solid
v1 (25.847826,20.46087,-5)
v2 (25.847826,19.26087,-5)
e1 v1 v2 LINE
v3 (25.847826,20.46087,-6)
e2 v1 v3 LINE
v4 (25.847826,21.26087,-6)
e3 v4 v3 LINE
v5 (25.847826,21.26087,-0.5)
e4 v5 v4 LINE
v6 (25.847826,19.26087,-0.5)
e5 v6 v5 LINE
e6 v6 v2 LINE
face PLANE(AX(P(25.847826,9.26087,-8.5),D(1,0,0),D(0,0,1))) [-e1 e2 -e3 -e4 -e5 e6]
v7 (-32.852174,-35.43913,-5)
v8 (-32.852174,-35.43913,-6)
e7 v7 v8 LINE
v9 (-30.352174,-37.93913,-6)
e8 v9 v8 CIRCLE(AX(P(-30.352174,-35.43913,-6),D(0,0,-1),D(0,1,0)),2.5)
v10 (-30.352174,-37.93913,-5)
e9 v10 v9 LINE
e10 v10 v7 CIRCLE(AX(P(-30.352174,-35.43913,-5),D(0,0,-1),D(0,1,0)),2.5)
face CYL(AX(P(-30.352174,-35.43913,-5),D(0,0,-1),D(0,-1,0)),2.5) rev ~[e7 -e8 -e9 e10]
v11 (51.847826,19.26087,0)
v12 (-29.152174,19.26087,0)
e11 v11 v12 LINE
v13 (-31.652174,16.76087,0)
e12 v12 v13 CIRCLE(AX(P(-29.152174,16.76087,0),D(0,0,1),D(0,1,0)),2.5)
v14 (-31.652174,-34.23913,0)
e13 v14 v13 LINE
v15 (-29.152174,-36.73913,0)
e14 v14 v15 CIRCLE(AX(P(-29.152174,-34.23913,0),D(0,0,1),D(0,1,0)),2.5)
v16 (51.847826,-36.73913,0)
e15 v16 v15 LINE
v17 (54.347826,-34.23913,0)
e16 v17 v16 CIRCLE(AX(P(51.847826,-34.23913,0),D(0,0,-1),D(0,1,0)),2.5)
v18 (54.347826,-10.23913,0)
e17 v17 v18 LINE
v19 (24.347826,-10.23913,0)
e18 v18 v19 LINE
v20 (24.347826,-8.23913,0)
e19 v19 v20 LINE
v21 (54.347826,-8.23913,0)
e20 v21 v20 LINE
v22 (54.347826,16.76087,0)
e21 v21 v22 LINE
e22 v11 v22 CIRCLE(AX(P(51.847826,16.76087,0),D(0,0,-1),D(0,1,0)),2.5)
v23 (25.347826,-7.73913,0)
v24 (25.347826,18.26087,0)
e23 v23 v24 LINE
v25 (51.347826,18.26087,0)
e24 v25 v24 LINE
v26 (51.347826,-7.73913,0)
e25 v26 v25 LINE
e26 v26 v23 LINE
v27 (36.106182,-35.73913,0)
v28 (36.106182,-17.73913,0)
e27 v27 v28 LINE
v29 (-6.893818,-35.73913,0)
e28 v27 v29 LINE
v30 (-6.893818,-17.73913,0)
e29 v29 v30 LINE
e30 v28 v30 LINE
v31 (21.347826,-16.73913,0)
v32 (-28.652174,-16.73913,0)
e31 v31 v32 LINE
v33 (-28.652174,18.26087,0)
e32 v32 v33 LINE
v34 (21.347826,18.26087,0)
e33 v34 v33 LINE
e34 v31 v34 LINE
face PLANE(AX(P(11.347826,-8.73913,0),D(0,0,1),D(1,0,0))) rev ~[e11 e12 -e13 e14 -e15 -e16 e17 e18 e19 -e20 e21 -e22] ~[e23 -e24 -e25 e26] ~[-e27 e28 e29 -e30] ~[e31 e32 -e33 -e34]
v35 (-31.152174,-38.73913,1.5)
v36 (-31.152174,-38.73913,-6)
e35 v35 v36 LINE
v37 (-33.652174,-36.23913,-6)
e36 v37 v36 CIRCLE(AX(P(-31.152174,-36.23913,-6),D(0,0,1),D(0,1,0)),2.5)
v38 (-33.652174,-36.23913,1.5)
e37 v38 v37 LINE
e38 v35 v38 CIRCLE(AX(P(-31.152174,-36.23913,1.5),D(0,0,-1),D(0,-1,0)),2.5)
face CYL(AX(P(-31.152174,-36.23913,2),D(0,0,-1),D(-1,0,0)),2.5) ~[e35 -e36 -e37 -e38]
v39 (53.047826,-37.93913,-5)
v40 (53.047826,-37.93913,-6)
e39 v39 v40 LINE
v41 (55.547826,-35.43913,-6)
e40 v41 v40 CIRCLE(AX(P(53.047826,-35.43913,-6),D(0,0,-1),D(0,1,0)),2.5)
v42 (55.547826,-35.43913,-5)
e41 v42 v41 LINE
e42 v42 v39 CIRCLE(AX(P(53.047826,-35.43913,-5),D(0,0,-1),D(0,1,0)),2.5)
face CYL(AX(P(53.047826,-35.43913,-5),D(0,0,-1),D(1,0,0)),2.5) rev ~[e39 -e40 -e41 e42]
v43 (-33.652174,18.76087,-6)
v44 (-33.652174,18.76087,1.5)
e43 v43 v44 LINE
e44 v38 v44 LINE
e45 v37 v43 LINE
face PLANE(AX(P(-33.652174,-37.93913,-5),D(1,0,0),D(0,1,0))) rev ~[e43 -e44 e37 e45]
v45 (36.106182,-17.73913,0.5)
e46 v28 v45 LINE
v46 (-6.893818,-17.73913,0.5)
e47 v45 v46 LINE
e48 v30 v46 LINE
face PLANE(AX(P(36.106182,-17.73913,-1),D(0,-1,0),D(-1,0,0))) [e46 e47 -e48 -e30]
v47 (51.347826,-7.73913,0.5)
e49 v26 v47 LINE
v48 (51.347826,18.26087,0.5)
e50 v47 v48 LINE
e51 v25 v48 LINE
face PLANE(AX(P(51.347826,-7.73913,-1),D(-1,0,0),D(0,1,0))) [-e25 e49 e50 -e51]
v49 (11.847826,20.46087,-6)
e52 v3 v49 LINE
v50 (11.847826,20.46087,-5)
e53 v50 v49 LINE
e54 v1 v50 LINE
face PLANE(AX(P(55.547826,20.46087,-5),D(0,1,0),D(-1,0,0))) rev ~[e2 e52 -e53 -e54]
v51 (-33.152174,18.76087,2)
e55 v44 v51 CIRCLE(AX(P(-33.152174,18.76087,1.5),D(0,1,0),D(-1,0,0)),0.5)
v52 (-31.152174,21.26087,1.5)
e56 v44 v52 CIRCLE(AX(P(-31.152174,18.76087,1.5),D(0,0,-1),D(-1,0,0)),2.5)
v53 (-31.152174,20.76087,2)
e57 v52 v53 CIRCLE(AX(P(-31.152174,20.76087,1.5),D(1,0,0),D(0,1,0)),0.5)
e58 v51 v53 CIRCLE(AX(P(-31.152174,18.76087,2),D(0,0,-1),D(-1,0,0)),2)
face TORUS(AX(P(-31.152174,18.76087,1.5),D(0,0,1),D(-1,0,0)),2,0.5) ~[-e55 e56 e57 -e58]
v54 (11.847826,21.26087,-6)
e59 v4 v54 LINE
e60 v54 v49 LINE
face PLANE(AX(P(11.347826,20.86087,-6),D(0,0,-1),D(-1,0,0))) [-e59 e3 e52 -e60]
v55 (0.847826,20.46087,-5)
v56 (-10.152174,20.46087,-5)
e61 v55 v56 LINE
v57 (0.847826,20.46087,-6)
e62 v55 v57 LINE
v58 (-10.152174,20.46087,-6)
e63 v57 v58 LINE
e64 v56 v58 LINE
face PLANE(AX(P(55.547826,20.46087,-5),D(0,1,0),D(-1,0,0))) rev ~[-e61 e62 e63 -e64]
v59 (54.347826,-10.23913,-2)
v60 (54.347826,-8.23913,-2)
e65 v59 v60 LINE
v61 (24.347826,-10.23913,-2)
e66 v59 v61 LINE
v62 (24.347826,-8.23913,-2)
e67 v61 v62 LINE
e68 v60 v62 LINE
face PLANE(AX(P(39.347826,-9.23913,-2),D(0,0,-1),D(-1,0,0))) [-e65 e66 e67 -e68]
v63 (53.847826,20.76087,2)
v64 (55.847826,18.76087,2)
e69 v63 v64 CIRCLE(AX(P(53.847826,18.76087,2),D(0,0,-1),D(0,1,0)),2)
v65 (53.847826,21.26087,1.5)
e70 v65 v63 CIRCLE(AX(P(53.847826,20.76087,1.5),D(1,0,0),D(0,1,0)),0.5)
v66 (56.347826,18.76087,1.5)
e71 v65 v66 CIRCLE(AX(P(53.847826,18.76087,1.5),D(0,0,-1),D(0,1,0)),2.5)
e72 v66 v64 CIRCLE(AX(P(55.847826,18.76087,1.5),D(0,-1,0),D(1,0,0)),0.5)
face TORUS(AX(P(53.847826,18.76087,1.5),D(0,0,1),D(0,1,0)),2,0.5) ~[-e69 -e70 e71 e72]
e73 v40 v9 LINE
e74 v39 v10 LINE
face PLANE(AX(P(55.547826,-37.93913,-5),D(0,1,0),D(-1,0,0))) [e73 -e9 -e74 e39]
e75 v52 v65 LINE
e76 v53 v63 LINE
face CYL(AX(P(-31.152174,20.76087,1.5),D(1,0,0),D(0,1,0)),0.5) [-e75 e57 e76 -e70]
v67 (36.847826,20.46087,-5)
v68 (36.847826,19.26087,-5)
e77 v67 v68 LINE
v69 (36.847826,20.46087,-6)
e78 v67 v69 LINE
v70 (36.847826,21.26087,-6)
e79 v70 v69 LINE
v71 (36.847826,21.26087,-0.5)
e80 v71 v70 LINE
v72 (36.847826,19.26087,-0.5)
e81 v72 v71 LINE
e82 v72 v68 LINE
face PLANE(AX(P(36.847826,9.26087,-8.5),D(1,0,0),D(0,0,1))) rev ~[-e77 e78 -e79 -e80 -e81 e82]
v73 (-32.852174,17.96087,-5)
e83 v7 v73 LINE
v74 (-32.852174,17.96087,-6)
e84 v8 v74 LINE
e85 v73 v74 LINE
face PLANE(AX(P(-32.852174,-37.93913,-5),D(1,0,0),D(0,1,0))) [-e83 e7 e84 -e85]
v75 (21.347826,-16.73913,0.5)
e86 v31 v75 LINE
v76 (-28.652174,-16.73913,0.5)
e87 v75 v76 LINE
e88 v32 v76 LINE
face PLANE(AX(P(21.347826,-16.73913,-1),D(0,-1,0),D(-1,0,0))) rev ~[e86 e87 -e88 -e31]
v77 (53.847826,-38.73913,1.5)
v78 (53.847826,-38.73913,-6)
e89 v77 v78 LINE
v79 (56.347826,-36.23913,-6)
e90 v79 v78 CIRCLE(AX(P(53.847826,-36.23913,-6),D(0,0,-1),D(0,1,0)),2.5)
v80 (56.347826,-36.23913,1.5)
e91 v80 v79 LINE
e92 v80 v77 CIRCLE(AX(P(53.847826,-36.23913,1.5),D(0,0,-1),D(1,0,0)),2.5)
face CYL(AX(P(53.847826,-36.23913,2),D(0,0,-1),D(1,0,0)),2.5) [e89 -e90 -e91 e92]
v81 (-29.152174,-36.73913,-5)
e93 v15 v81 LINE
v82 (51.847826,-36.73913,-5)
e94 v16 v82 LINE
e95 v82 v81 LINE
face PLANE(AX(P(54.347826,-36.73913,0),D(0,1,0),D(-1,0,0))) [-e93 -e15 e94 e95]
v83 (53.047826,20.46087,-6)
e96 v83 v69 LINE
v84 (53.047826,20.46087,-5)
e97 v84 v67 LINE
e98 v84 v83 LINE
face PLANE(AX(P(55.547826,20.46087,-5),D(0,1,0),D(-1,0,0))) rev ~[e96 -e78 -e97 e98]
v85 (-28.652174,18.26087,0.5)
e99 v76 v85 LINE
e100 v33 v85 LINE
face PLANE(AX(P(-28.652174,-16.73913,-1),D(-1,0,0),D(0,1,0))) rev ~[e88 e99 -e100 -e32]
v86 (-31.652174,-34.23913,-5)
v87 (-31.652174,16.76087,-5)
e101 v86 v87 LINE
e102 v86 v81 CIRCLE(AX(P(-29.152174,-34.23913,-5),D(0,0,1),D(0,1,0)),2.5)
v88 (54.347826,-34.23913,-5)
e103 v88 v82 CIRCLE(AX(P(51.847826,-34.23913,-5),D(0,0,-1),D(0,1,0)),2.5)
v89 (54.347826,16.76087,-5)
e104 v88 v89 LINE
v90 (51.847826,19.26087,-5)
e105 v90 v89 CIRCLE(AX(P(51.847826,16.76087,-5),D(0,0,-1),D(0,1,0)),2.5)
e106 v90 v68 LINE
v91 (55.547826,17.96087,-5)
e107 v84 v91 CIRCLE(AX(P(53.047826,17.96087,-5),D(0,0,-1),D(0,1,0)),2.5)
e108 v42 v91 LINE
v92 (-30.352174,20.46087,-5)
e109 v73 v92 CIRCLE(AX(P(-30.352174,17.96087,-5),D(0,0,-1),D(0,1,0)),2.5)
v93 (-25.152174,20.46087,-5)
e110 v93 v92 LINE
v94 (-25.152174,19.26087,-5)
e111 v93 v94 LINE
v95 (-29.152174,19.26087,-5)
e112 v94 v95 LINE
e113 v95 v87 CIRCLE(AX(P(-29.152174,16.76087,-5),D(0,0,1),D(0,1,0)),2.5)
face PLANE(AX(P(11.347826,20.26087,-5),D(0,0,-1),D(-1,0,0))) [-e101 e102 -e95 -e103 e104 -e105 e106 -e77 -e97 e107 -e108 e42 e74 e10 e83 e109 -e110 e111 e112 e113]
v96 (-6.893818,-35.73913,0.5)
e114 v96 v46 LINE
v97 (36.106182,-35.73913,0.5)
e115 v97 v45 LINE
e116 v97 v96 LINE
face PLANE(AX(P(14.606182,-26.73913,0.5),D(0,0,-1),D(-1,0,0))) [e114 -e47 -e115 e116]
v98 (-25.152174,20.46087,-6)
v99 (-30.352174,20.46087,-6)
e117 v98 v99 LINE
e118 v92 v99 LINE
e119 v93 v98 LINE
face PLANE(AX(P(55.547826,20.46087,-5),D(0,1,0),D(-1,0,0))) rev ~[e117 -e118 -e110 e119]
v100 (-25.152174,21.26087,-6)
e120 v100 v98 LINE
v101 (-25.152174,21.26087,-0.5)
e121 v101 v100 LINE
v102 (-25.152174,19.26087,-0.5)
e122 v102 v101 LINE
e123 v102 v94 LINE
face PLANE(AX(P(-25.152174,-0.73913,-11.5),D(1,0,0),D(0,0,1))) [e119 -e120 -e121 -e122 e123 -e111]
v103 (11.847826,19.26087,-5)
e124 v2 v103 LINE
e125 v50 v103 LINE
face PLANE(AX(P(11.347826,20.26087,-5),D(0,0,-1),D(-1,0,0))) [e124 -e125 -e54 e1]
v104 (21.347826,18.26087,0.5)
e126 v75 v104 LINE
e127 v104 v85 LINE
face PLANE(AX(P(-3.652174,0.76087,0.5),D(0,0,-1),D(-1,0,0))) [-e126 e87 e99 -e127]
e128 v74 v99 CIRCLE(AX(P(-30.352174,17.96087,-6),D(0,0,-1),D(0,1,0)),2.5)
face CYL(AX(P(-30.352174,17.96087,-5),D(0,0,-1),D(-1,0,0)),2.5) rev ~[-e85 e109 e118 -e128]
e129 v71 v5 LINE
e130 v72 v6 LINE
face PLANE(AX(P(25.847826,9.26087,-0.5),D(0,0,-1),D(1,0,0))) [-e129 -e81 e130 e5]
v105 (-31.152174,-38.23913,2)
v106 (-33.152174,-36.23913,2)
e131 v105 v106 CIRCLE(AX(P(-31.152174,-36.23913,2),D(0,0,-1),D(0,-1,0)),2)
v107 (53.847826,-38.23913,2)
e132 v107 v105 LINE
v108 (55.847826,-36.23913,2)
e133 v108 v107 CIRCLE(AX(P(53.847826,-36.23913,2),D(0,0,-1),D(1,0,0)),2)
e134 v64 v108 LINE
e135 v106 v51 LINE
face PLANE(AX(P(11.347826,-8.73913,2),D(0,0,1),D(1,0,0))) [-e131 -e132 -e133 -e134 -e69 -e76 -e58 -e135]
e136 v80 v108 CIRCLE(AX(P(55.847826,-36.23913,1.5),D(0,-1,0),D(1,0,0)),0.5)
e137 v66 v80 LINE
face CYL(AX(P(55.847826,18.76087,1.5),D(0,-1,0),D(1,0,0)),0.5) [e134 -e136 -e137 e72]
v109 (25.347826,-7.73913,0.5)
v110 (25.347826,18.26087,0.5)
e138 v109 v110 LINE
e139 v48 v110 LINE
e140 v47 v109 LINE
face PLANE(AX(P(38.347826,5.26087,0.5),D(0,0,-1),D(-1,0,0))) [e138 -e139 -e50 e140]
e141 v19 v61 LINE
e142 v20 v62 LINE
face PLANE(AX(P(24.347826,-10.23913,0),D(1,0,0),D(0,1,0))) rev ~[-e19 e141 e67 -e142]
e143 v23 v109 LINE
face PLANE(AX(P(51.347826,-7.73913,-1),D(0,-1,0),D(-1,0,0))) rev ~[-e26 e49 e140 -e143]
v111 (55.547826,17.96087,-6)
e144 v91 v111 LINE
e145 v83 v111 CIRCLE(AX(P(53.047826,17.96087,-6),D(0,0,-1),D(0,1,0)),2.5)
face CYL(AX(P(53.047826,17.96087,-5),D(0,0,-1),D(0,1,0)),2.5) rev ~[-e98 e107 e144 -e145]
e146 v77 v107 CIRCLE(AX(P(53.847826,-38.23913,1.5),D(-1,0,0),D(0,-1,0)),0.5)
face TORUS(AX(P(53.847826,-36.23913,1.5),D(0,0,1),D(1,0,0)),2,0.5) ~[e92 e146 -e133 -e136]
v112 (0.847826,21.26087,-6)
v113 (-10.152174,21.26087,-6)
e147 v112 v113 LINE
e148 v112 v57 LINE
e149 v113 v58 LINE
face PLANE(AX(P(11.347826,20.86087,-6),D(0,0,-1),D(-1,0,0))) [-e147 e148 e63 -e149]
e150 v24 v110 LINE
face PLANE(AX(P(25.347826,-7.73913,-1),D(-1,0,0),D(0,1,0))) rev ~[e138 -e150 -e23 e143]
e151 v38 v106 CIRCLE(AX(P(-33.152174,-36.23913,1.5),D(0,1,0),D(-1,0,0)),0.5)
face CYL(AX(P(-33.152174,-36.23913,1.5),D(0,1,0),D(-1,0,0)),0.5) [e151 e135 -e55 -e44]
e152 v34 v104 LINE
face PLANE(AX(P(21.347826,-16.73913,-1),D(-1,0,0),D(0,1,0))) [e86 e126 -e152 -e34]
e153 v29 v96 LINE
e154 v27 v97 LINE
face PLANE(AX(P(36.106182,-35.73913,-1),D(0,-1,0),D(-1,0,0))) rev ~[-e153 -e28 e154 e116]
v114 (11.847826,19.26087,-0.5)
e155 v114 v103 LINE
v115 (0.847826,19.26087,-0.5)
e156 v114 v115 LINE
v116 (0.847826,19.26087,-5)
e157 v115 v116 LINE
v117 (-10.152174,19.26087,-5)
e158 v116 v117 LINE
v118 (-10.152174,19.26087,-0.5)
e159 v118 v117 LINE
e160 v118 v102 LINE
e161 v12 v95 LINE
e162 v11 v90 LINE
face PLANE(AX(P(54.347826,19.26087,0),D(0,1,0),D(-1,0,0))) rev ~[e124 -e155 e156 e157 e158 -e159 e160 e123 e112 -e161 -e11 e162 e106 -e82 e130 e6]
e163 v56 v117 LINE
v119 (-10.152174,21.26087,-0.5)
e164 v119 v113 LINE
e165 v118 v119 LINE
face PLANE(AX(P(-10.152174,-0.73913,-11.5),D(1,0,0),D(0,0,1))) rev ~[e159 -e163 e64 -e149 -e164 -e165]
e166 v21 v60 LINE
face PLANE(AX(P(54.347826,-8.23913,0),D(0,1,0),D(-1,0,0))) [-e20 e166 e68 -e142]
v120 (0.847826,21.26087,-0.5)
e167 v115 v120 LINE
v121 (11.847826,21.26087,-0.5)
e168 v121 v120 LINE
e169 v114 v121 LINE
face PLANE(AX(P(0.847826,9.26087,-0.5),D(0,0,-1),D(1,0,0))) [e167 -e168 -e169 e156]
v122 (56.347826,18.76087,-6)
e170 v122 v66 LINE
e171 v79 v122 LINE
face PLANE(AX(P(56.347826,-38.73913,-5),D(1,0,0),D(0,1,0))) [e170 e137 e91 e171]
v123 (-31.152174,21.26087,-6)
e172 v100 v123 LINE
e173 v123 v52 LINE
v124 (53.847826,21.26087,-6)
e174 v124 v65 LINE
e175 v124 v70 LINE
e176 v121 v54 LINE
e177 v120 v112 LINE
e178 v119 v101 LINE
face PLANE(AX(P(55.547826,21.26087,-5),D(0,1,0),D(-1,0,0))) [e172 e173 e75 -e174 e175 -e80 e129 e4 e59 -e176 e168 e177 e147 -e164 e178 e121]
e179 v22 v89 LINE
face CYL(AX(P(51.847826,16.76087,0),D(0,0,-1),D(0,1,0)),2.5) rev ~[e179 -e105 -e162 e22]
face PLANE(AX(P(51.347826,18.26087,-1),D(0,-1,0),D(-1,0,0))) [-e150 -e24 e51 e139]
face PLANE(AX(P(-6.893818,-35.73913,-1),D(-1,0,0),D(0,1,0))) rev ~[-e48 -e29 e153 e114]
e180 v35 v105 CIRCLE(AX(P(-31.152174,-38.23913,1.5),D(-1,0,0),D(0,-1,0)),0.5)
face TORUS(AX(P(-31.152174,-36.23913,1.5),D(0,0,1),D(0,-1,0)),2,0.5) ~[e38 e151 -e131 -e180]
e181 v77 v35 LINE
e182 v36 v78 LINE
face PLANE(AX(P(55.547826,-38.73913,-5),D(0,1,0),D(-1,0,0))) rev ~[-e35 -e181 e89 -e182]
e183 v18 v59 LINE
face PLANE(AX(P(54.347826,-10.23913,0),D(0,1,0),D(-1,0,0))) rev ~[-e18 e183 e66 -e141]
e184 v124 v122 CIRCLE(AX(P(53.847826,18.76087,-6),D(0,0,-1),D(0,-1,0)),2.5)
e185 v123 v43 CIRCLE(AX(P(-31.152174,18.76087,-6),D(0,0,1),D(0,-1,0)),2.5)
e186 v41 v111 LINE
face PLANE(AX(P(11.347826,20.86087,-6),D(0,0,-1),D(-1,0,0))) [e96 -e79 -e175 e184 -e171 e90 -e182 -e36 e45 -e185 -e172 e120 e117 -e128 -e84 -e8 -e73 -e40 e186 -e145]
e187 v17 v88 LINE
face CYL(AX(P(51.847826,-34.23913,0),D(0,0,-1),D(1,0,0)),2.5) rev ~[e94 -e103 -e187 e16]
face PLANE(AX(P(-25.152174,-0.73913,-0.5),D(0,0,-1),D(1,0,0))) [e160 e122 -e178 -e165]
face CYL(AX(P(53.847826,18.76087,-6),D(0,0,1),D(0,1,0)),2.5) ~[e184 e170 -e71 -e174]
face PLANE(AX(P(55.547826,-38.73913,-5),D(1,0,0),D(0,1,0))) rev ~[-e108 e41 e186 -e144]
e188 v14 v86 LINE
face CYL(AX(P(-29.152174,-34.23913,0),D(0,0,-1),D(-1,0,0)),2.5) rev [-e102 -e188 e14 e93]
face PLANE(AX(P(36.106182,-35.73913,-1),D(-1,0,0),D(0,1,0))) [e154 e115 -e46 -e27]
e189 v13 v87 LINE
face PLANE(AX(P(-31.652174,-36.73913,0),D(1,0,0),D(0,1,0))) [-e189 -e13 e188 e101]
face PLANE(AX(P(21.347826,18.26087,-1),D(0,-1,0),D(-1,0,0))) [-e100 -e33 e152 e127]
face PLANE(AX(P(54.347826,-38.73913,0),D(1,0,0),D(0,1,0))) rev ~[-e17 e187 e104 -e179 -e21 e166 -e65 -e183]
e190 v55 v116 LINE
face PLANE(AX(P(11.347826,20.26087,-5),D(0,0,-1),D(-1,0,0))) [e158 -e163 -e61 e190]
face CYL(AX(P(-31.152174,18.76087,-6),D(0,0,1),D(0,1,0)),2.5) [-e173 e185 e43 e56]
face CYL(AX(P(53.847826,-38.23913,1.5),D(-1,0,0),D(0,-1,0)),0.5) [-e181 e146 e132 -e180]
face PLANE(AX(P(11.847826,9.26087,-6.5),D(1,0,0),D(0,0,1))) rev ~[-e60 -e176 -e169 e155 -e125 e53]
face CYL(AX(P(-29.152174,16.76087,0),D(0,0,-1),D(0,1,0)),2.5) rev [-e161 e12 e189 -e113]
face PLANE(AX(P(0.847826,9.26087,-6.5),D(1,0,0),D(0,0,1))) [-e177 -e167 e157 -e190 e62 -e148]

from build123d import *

# Parameters (mm, degrees)
SKETCH_1_W          = 90
SKETCH_1_H          = 60
EXTRUDE_1_DEPTH     = 2
SKETCH_2_W          = 50
SKETCH_2_H          = 35
EXTRUDE_2_DEPTH     = 1
SKETCH_3_W          = 14
SKETCH_3_H          = 13
EXTRUDE_3_DEPTH     = 10
SKETCH_4_W          = 10
SKETCH_4_H          = 12
EXTRUDE_4_DEPTH     = 5
SKETCH_5_W          = 26
SKETCH_5_H          = 26
EXTRUDE_5_DEPTH     = 1
SKETCH_6_W          = 10
SKETCH_6_H          = 10
EXTRUDE_6_DEPTH     = 7
SKETCH_7_W          = 43
SKETCH_7_H          = 18
EXTRUDE_7_DEPTH     = 1
SKETCH_8_W          = 2
SKETCH_8_H          = 60
EXTRUDE_8_DEPTH     = 5
SKETCH_9_W          = 88
SKETCH_9_H          = 2
EXTRUDE_9_DEPTH     = 5
SKETCH_10_W         = 2
SKETCH_10_H         = 58
EXTRUDE_10_DEPTH    = 5
SKETCH_11_W         = 86
SKETCH_11_H         = 2
EXTRUDE_11_DEPTH    = 5
SKETCH_12_W         = 0.8
SKETCH_12_H         = 60
EXTRUDE_12_DEPTH    = 1
SKETCH_13_W         = 89.2
SKETCH_13_H         = 0.8
EXTRUDE_13_DEPTH    = 1
SKETCH_14_W         = 0.8
SKETCH_14_H         = 59.2
EXTRUDE_14_DEPTH    = 1
SKETCH_15_W         = 88.4
SKETCH_15_H         = 0.8
EXTRUDE_15_DEPTH    = 1
SKETCH_16_W         = 11
SKETCH_16_H         = 8
CUT_EXTRUDE_2_DEPTH = 34
SKETCH_17_W         = 11
SKETCH_17_H         = 6
CUT_EXTRUDE_3_DEPTH = 34
SKETCH_18_W         = 15
SKETCH_18_H         = 11
CUT_EXTRUDE_4_DEPTH = 34
SKETCH_19_W         = 30
SKETCH_19_H         = 2
EXTRUDE_16_DEPTH    = 2
SKETCH_20_W         = 43
SKETCH_20_H         = 18
CUT_EXTRUDE_5_DEPTH = 1.5
SKETCH_21_W         = 26
SKETCH_21_H         = 26
CUT_EXTRUDE_6_DEPTH = 1.5
SKETCH_22_W         = 50
SKETCH_22_H         = 35
CUT_EXTRUDE_7_DEPTH = 1.5
FILLET_1_R          = 2.5
FILLET_2_R          = 2.5
FILLET_3_R          = 0.5


with BuildPart() as part:
    # Эскиз1 → Бобышка-Вытянуть1 (new body)
    with BuildSketch(Plane.XY):
        with Locations((11.347826087, -8.739130435)):
            Rectangle(SKETCH_1_W, SKETCH_1_H)
    extrude(amount=EXTRUDE_1_DEPTH)

    # Эскиз2 → Бобышка-Вытянуть2 (add)
    with BuildSketch(Plane(origin=(0, 0, 0), x_dir=(-1, 0, 0), z_dir=(0, 0, -1))):
        with Locations((3.652173913, 0.760869565)):
            Rectangle(SKETCH_2_W, SKETCH_2_H)
    extrude(amount=EXTRUDE_2_DEPTH)

    # Эскиз3 → Бобышка-Вытянуть3 (add)
    with BuildSketch(Plane(origin=(0, 0, -1), x_dir=(-1, 0, 0), z_dir=(0, 0, -1))):
        with Locations((17.652173913, 5.760869565)):
            Rectangle(SKETCH_3_W, SKETCH_3_H)
    extrude(amount=EXTRUDE_3_DEPTH)

    # Эскиз4 → Бобышка-Вытянуть4 (add)
    with BuildSketch(Plane(origin=(0, 0, -1), x_dir=(-1, 0, 0), z_dir=(0, 0, -1))):
        with Locations((-6.347826087, 15.260869565)):
            Rectangle(SKETCH_4_W, SKETCH_4_H)
    extrude(amount=EXTRUDE_4_DEPTH)

    # Эскиз5 → Бобышка-Вытянуть5 (add)
    with BuildSketch(Plane(origin=(0, 0, 0), x_dir=(-1, 0, 0), z_dir=(0, 0, -1))):
        with Locations((-38.347826087, 5.260869565)):
            Rectangle(SKETCH_5_W, SKETCH_5_H)
    extrude(amount=EXTRUDE_5_DEPTH)

    # Эскиз6 → Бобышка-Вытянуть6 (add)
    with BuildSketch(Plane(origin=(0, 0, -1), x_dir=(-1, 0, 0), z_dir=(0, 0, -1))):
        with Locations((-31.347826087, 14.260869565)):
            Rectangle(SKETCH_6_W, SKETCH_6_H)
    extrude(amount=EXTRUDE_6_DEPTH)

    # Эскиз7 → Бобышка-Вытянуть7 (add)
    with BuildSketch(Plane(origin=(0, 0, 0), x_dir=(-1, 0, 0), z_dir=(0, 0, -1))):
        with Locations((-14.606181905, -26.739130435)):
            Rectangle(SKETCH_7_W, SKETCH_7_H)
    extrude(amount=EXTRUDE_7_DEPTH)

    # Эскиз8 → Бобышка-Вытянуть8 (add)
    with BuildSketch(Plane(origin=(0, 0, 0), x_dir=(-1, 0, 0), z_dir=(0, 0, -1))):
        with Locations((-55.347826087, -8.739130435)):
            Rectangle(SKETCH_8_W, SKETCH_8_H)
    extrude(amount=EXTRUDE_8_DEPTH)

    # Эскиз9 → Бобышка-Вытянуть9 (add)
    with BuildSketch(Plane(origin=(0, 0, 0), x_dir=(-1, 0, 0), z_dir=(0, 0, -1))):
        with Locations((-10.347826087, -37.739130435)):
            Rectangle(SKETCH_9_W, SKETCH_9_H)
    extrude(amount=EXTRUDE_9_DEPTH)

    # Эскиз10 → Бобышка-Вытянуть10 (add)
    with BuildSketch(Plane(origin=(0, 0, 0), x_dir=(-1, 0, 0), z_dir=(0, 0, -1))):
        with Locations((32.652173913, -7.739130435)):
            Rectangle(SKETCH_10_W, SKETCH_10_H)
    extrude(amount=EXTRUDE_10_DEPTH)

    # Эскиз11 → Бобышка-Вытянуть11 (add)
    with BuildSketch(Plane(origin=(0, 0, 0), x_dir=(-1, 0, 0), z_dir=(0, 0, -1))):
        with Locations((-11.347826087, 20.260869565)):
            Rectangle(SKETCH_11_W, SKETCH_11_H)
    extrude(amount=EXTRUDE_11_DEPTH)

    # Эскиз12 → Бобышка-Вытянуть12 (add)
    with BuildSketch(Plane(origin=(0, 0, -5), x_dir=(-1, 0, 0), z_dir=(0, 0, -1))):
        with Locations((-55.947826087, -8.739130435)):
            Rectangle(SKETCH_12_W, SKETCH_12_H)
    extrude(amount=EXTRUDE_12_DEPTH)

    # Эскиз13 → Бобышка-Вытянуть13 (add)
    with BuildSketch(Plane(origin=(0, 0, -5), x_dir=(-1, 0, 0), z_dir=(0, 0, -1))):
        with Locations((-10.947826087, -38.339130435)):
            Rectangle(SKETCH_13_W, SKETCH_13_H)
    extrude(amount=EXTRUDE_13_DEPTH)

    # Эскиз14 → Бобышка-Вытянуть14 (add)
    with BuildSketch(Plane(origin=(0, 0, -5), x_dir=(-1, 0, 0), z_dir=(0, 0, -1))):
        with Locations((33.252173913, -8.339130435)):
            Rectangle(SKETCH_14_W, SKETCH_14_H)
    extrude(amount=EXTRUDE_14_DEPTH)

    # Эскиз15 → Бобышка-Вытянуть15 (add)
    with BuildSketch(Plane(origin=(0, 0, -5), x_dir=(-1, 0, 0), z_dir=(0, 0, -1))):
        with Locations((-11.347826087, 20.860869565)):
            Rectangle(SKETCH_15_W, SKETCH_15_H)
    extrude(amount=EXTRUDE_15_DEPTH)

    # Эскиз16 → Вырез-Вытянуть2 (cut)
    with BuildSketch(Plane.XZ.offset(-9.260869565)):
        with Locations((31.347826087, -4.5)):
            Rectangle(SKETCH_16_W, SKETCH_16_H)
    extrude(amount=-CUT_EXTRUDE_2_DEPTH, mode=Mode.SUBTRACT)

    # Эскиз17 → Вырез-Вытянуть3 (cut)
    with BuildSketch(Plane.XZ.offset(-9.260869565)):
        with Locations((6.347826087, -3.5)):
            Rectangle(SKETCH_17_W, SKETCH_17_H)
    extrude(amount=-CUT_EXTRUDE_3_DEPTH, mode=Mode.SUBTRACT)

    # Эскиз18 → Вырез-Вытянуть4 (cut)
    with BuildSketch(Plane.XZ.offset(0.739130435)):
        with Locations((-17.652173913, -6)):
            Rectangle(SKETCH_18_W, SKETCH_18_H)
    extrude(amount=-CUT_EXTRUDE_4_DEPTH, mode=Mode.SUBTRACT)

    # Эскиз19 → Бобышка-Вытянуть16 (add)
    with BuildSketch(Plane(origin=(0, 0, 0), x_dir=(-1, 0, 0), z_dir=(0, 0, -1))):
        with Locations((-39.347826087, -9.239130435)):
            Rectangle(SKETCH_19_W, SKETCH_19_H)
    extrude(amount=EXTRUDE_16_DEPTH)

    # Эскиз20 → Вырез-Вытянуть5 (cut)
    with BuildSketch(Plane(origin=(0, 0, -1), x_dir=(-1, 0, 0), z_dir=(0, 0, -1))):
        with Locations((-14.606181905, -26.739130435)):
            Rectangle(SKETCH_20_W, SKETCH_20_H)
    extrude(amount=-CUT_EXTRUDE_5_DEPTH, mode=Mode.SUBTRACT)

    # Эскиз21 → Вырез-Вытянуть6 (cut)
    with BuildSketch(Plane(origin=(0, 0, -1), x_dir=(-1, 0, 0), z_dir=(0, 0, -1))):
        with Locations((-38.347826087, 5.260869565)):
            Rectangle(SKETCH_21_W, SKETCH_21_H)
    extrude(amount=-CUT_EXTRUDE_6_DEPTH, mode=Mode.SUBTRACT)

    # Эскиз22 → Вырез-Вытянуть7 (cut)
    with BuildSketch(Plane(origin=(0, 0, -1), x_dir=(-1, 0, 0), z_dir=(0, 0, -1))):
        with Locations((3.652173913, 0.760869565)):
            Rectangle(SKETCH_22_W, SKETCH_22_H)
    extrude(amount=-CUT_EXTRUDE_7_DEPTH, mode=Mode.SUBTRACT)

    # Скругление1
    fillet_1_edges = [part.edges().sort_by_distance(p)[0] for p in [
        (54.347826087, -36.739130435, -2.5),
        (-31.652173913, -36.739130435, -2.5),
        (54.347826087, 19.260869565, -2.5),
        (-31.652173913, 19.260869565, -2.5),
        (-33.652173913, 21.260869565, -2),
        (56.347826087, 21.260869565, -2),
        (56.347826087, -38.739130435, -2),
        (-33.652173913, -38.739130435, -2),
    ]]
    fillet(fillet_1_edges, radius=FILLET_1_R)

    # Скругление2
    fillet_2_edges = [part.edges().sort_by_distance(p)[0] for p in [
        (55.547826087, -37.939130435, -5.5),
        (-32.852173913, -37.939130435, -5.5),
        (55.547826087, 20.460869565, -5.5),
        (-32.852173913, 20.460869565, -5.5),
    ]]
    fillet(fillet_2_edges, radius=FILLET_2_R)

    # Скругление3
    fillet_3_edges = [part.edges().sort_by_distance(p)[0] for p in [
        (11.347826087, 21.260869565, 2),
        (56.347826087, -8.739130435, 2),
        (-33.652173913, -8.739130435, 2),
        (11.347826087, -38.739130435, 2),
        (-32.919940866, 20.528636518, 2),
        (-32.919940866, -38.006897388, 2),
        (55.61559304, -38.006897388, 2),
        (55.61559304, 20.528636518, 2),
    ]]
    fillet(fillet_3_edges, radius=FILLET_3_R)


solid = part.part
